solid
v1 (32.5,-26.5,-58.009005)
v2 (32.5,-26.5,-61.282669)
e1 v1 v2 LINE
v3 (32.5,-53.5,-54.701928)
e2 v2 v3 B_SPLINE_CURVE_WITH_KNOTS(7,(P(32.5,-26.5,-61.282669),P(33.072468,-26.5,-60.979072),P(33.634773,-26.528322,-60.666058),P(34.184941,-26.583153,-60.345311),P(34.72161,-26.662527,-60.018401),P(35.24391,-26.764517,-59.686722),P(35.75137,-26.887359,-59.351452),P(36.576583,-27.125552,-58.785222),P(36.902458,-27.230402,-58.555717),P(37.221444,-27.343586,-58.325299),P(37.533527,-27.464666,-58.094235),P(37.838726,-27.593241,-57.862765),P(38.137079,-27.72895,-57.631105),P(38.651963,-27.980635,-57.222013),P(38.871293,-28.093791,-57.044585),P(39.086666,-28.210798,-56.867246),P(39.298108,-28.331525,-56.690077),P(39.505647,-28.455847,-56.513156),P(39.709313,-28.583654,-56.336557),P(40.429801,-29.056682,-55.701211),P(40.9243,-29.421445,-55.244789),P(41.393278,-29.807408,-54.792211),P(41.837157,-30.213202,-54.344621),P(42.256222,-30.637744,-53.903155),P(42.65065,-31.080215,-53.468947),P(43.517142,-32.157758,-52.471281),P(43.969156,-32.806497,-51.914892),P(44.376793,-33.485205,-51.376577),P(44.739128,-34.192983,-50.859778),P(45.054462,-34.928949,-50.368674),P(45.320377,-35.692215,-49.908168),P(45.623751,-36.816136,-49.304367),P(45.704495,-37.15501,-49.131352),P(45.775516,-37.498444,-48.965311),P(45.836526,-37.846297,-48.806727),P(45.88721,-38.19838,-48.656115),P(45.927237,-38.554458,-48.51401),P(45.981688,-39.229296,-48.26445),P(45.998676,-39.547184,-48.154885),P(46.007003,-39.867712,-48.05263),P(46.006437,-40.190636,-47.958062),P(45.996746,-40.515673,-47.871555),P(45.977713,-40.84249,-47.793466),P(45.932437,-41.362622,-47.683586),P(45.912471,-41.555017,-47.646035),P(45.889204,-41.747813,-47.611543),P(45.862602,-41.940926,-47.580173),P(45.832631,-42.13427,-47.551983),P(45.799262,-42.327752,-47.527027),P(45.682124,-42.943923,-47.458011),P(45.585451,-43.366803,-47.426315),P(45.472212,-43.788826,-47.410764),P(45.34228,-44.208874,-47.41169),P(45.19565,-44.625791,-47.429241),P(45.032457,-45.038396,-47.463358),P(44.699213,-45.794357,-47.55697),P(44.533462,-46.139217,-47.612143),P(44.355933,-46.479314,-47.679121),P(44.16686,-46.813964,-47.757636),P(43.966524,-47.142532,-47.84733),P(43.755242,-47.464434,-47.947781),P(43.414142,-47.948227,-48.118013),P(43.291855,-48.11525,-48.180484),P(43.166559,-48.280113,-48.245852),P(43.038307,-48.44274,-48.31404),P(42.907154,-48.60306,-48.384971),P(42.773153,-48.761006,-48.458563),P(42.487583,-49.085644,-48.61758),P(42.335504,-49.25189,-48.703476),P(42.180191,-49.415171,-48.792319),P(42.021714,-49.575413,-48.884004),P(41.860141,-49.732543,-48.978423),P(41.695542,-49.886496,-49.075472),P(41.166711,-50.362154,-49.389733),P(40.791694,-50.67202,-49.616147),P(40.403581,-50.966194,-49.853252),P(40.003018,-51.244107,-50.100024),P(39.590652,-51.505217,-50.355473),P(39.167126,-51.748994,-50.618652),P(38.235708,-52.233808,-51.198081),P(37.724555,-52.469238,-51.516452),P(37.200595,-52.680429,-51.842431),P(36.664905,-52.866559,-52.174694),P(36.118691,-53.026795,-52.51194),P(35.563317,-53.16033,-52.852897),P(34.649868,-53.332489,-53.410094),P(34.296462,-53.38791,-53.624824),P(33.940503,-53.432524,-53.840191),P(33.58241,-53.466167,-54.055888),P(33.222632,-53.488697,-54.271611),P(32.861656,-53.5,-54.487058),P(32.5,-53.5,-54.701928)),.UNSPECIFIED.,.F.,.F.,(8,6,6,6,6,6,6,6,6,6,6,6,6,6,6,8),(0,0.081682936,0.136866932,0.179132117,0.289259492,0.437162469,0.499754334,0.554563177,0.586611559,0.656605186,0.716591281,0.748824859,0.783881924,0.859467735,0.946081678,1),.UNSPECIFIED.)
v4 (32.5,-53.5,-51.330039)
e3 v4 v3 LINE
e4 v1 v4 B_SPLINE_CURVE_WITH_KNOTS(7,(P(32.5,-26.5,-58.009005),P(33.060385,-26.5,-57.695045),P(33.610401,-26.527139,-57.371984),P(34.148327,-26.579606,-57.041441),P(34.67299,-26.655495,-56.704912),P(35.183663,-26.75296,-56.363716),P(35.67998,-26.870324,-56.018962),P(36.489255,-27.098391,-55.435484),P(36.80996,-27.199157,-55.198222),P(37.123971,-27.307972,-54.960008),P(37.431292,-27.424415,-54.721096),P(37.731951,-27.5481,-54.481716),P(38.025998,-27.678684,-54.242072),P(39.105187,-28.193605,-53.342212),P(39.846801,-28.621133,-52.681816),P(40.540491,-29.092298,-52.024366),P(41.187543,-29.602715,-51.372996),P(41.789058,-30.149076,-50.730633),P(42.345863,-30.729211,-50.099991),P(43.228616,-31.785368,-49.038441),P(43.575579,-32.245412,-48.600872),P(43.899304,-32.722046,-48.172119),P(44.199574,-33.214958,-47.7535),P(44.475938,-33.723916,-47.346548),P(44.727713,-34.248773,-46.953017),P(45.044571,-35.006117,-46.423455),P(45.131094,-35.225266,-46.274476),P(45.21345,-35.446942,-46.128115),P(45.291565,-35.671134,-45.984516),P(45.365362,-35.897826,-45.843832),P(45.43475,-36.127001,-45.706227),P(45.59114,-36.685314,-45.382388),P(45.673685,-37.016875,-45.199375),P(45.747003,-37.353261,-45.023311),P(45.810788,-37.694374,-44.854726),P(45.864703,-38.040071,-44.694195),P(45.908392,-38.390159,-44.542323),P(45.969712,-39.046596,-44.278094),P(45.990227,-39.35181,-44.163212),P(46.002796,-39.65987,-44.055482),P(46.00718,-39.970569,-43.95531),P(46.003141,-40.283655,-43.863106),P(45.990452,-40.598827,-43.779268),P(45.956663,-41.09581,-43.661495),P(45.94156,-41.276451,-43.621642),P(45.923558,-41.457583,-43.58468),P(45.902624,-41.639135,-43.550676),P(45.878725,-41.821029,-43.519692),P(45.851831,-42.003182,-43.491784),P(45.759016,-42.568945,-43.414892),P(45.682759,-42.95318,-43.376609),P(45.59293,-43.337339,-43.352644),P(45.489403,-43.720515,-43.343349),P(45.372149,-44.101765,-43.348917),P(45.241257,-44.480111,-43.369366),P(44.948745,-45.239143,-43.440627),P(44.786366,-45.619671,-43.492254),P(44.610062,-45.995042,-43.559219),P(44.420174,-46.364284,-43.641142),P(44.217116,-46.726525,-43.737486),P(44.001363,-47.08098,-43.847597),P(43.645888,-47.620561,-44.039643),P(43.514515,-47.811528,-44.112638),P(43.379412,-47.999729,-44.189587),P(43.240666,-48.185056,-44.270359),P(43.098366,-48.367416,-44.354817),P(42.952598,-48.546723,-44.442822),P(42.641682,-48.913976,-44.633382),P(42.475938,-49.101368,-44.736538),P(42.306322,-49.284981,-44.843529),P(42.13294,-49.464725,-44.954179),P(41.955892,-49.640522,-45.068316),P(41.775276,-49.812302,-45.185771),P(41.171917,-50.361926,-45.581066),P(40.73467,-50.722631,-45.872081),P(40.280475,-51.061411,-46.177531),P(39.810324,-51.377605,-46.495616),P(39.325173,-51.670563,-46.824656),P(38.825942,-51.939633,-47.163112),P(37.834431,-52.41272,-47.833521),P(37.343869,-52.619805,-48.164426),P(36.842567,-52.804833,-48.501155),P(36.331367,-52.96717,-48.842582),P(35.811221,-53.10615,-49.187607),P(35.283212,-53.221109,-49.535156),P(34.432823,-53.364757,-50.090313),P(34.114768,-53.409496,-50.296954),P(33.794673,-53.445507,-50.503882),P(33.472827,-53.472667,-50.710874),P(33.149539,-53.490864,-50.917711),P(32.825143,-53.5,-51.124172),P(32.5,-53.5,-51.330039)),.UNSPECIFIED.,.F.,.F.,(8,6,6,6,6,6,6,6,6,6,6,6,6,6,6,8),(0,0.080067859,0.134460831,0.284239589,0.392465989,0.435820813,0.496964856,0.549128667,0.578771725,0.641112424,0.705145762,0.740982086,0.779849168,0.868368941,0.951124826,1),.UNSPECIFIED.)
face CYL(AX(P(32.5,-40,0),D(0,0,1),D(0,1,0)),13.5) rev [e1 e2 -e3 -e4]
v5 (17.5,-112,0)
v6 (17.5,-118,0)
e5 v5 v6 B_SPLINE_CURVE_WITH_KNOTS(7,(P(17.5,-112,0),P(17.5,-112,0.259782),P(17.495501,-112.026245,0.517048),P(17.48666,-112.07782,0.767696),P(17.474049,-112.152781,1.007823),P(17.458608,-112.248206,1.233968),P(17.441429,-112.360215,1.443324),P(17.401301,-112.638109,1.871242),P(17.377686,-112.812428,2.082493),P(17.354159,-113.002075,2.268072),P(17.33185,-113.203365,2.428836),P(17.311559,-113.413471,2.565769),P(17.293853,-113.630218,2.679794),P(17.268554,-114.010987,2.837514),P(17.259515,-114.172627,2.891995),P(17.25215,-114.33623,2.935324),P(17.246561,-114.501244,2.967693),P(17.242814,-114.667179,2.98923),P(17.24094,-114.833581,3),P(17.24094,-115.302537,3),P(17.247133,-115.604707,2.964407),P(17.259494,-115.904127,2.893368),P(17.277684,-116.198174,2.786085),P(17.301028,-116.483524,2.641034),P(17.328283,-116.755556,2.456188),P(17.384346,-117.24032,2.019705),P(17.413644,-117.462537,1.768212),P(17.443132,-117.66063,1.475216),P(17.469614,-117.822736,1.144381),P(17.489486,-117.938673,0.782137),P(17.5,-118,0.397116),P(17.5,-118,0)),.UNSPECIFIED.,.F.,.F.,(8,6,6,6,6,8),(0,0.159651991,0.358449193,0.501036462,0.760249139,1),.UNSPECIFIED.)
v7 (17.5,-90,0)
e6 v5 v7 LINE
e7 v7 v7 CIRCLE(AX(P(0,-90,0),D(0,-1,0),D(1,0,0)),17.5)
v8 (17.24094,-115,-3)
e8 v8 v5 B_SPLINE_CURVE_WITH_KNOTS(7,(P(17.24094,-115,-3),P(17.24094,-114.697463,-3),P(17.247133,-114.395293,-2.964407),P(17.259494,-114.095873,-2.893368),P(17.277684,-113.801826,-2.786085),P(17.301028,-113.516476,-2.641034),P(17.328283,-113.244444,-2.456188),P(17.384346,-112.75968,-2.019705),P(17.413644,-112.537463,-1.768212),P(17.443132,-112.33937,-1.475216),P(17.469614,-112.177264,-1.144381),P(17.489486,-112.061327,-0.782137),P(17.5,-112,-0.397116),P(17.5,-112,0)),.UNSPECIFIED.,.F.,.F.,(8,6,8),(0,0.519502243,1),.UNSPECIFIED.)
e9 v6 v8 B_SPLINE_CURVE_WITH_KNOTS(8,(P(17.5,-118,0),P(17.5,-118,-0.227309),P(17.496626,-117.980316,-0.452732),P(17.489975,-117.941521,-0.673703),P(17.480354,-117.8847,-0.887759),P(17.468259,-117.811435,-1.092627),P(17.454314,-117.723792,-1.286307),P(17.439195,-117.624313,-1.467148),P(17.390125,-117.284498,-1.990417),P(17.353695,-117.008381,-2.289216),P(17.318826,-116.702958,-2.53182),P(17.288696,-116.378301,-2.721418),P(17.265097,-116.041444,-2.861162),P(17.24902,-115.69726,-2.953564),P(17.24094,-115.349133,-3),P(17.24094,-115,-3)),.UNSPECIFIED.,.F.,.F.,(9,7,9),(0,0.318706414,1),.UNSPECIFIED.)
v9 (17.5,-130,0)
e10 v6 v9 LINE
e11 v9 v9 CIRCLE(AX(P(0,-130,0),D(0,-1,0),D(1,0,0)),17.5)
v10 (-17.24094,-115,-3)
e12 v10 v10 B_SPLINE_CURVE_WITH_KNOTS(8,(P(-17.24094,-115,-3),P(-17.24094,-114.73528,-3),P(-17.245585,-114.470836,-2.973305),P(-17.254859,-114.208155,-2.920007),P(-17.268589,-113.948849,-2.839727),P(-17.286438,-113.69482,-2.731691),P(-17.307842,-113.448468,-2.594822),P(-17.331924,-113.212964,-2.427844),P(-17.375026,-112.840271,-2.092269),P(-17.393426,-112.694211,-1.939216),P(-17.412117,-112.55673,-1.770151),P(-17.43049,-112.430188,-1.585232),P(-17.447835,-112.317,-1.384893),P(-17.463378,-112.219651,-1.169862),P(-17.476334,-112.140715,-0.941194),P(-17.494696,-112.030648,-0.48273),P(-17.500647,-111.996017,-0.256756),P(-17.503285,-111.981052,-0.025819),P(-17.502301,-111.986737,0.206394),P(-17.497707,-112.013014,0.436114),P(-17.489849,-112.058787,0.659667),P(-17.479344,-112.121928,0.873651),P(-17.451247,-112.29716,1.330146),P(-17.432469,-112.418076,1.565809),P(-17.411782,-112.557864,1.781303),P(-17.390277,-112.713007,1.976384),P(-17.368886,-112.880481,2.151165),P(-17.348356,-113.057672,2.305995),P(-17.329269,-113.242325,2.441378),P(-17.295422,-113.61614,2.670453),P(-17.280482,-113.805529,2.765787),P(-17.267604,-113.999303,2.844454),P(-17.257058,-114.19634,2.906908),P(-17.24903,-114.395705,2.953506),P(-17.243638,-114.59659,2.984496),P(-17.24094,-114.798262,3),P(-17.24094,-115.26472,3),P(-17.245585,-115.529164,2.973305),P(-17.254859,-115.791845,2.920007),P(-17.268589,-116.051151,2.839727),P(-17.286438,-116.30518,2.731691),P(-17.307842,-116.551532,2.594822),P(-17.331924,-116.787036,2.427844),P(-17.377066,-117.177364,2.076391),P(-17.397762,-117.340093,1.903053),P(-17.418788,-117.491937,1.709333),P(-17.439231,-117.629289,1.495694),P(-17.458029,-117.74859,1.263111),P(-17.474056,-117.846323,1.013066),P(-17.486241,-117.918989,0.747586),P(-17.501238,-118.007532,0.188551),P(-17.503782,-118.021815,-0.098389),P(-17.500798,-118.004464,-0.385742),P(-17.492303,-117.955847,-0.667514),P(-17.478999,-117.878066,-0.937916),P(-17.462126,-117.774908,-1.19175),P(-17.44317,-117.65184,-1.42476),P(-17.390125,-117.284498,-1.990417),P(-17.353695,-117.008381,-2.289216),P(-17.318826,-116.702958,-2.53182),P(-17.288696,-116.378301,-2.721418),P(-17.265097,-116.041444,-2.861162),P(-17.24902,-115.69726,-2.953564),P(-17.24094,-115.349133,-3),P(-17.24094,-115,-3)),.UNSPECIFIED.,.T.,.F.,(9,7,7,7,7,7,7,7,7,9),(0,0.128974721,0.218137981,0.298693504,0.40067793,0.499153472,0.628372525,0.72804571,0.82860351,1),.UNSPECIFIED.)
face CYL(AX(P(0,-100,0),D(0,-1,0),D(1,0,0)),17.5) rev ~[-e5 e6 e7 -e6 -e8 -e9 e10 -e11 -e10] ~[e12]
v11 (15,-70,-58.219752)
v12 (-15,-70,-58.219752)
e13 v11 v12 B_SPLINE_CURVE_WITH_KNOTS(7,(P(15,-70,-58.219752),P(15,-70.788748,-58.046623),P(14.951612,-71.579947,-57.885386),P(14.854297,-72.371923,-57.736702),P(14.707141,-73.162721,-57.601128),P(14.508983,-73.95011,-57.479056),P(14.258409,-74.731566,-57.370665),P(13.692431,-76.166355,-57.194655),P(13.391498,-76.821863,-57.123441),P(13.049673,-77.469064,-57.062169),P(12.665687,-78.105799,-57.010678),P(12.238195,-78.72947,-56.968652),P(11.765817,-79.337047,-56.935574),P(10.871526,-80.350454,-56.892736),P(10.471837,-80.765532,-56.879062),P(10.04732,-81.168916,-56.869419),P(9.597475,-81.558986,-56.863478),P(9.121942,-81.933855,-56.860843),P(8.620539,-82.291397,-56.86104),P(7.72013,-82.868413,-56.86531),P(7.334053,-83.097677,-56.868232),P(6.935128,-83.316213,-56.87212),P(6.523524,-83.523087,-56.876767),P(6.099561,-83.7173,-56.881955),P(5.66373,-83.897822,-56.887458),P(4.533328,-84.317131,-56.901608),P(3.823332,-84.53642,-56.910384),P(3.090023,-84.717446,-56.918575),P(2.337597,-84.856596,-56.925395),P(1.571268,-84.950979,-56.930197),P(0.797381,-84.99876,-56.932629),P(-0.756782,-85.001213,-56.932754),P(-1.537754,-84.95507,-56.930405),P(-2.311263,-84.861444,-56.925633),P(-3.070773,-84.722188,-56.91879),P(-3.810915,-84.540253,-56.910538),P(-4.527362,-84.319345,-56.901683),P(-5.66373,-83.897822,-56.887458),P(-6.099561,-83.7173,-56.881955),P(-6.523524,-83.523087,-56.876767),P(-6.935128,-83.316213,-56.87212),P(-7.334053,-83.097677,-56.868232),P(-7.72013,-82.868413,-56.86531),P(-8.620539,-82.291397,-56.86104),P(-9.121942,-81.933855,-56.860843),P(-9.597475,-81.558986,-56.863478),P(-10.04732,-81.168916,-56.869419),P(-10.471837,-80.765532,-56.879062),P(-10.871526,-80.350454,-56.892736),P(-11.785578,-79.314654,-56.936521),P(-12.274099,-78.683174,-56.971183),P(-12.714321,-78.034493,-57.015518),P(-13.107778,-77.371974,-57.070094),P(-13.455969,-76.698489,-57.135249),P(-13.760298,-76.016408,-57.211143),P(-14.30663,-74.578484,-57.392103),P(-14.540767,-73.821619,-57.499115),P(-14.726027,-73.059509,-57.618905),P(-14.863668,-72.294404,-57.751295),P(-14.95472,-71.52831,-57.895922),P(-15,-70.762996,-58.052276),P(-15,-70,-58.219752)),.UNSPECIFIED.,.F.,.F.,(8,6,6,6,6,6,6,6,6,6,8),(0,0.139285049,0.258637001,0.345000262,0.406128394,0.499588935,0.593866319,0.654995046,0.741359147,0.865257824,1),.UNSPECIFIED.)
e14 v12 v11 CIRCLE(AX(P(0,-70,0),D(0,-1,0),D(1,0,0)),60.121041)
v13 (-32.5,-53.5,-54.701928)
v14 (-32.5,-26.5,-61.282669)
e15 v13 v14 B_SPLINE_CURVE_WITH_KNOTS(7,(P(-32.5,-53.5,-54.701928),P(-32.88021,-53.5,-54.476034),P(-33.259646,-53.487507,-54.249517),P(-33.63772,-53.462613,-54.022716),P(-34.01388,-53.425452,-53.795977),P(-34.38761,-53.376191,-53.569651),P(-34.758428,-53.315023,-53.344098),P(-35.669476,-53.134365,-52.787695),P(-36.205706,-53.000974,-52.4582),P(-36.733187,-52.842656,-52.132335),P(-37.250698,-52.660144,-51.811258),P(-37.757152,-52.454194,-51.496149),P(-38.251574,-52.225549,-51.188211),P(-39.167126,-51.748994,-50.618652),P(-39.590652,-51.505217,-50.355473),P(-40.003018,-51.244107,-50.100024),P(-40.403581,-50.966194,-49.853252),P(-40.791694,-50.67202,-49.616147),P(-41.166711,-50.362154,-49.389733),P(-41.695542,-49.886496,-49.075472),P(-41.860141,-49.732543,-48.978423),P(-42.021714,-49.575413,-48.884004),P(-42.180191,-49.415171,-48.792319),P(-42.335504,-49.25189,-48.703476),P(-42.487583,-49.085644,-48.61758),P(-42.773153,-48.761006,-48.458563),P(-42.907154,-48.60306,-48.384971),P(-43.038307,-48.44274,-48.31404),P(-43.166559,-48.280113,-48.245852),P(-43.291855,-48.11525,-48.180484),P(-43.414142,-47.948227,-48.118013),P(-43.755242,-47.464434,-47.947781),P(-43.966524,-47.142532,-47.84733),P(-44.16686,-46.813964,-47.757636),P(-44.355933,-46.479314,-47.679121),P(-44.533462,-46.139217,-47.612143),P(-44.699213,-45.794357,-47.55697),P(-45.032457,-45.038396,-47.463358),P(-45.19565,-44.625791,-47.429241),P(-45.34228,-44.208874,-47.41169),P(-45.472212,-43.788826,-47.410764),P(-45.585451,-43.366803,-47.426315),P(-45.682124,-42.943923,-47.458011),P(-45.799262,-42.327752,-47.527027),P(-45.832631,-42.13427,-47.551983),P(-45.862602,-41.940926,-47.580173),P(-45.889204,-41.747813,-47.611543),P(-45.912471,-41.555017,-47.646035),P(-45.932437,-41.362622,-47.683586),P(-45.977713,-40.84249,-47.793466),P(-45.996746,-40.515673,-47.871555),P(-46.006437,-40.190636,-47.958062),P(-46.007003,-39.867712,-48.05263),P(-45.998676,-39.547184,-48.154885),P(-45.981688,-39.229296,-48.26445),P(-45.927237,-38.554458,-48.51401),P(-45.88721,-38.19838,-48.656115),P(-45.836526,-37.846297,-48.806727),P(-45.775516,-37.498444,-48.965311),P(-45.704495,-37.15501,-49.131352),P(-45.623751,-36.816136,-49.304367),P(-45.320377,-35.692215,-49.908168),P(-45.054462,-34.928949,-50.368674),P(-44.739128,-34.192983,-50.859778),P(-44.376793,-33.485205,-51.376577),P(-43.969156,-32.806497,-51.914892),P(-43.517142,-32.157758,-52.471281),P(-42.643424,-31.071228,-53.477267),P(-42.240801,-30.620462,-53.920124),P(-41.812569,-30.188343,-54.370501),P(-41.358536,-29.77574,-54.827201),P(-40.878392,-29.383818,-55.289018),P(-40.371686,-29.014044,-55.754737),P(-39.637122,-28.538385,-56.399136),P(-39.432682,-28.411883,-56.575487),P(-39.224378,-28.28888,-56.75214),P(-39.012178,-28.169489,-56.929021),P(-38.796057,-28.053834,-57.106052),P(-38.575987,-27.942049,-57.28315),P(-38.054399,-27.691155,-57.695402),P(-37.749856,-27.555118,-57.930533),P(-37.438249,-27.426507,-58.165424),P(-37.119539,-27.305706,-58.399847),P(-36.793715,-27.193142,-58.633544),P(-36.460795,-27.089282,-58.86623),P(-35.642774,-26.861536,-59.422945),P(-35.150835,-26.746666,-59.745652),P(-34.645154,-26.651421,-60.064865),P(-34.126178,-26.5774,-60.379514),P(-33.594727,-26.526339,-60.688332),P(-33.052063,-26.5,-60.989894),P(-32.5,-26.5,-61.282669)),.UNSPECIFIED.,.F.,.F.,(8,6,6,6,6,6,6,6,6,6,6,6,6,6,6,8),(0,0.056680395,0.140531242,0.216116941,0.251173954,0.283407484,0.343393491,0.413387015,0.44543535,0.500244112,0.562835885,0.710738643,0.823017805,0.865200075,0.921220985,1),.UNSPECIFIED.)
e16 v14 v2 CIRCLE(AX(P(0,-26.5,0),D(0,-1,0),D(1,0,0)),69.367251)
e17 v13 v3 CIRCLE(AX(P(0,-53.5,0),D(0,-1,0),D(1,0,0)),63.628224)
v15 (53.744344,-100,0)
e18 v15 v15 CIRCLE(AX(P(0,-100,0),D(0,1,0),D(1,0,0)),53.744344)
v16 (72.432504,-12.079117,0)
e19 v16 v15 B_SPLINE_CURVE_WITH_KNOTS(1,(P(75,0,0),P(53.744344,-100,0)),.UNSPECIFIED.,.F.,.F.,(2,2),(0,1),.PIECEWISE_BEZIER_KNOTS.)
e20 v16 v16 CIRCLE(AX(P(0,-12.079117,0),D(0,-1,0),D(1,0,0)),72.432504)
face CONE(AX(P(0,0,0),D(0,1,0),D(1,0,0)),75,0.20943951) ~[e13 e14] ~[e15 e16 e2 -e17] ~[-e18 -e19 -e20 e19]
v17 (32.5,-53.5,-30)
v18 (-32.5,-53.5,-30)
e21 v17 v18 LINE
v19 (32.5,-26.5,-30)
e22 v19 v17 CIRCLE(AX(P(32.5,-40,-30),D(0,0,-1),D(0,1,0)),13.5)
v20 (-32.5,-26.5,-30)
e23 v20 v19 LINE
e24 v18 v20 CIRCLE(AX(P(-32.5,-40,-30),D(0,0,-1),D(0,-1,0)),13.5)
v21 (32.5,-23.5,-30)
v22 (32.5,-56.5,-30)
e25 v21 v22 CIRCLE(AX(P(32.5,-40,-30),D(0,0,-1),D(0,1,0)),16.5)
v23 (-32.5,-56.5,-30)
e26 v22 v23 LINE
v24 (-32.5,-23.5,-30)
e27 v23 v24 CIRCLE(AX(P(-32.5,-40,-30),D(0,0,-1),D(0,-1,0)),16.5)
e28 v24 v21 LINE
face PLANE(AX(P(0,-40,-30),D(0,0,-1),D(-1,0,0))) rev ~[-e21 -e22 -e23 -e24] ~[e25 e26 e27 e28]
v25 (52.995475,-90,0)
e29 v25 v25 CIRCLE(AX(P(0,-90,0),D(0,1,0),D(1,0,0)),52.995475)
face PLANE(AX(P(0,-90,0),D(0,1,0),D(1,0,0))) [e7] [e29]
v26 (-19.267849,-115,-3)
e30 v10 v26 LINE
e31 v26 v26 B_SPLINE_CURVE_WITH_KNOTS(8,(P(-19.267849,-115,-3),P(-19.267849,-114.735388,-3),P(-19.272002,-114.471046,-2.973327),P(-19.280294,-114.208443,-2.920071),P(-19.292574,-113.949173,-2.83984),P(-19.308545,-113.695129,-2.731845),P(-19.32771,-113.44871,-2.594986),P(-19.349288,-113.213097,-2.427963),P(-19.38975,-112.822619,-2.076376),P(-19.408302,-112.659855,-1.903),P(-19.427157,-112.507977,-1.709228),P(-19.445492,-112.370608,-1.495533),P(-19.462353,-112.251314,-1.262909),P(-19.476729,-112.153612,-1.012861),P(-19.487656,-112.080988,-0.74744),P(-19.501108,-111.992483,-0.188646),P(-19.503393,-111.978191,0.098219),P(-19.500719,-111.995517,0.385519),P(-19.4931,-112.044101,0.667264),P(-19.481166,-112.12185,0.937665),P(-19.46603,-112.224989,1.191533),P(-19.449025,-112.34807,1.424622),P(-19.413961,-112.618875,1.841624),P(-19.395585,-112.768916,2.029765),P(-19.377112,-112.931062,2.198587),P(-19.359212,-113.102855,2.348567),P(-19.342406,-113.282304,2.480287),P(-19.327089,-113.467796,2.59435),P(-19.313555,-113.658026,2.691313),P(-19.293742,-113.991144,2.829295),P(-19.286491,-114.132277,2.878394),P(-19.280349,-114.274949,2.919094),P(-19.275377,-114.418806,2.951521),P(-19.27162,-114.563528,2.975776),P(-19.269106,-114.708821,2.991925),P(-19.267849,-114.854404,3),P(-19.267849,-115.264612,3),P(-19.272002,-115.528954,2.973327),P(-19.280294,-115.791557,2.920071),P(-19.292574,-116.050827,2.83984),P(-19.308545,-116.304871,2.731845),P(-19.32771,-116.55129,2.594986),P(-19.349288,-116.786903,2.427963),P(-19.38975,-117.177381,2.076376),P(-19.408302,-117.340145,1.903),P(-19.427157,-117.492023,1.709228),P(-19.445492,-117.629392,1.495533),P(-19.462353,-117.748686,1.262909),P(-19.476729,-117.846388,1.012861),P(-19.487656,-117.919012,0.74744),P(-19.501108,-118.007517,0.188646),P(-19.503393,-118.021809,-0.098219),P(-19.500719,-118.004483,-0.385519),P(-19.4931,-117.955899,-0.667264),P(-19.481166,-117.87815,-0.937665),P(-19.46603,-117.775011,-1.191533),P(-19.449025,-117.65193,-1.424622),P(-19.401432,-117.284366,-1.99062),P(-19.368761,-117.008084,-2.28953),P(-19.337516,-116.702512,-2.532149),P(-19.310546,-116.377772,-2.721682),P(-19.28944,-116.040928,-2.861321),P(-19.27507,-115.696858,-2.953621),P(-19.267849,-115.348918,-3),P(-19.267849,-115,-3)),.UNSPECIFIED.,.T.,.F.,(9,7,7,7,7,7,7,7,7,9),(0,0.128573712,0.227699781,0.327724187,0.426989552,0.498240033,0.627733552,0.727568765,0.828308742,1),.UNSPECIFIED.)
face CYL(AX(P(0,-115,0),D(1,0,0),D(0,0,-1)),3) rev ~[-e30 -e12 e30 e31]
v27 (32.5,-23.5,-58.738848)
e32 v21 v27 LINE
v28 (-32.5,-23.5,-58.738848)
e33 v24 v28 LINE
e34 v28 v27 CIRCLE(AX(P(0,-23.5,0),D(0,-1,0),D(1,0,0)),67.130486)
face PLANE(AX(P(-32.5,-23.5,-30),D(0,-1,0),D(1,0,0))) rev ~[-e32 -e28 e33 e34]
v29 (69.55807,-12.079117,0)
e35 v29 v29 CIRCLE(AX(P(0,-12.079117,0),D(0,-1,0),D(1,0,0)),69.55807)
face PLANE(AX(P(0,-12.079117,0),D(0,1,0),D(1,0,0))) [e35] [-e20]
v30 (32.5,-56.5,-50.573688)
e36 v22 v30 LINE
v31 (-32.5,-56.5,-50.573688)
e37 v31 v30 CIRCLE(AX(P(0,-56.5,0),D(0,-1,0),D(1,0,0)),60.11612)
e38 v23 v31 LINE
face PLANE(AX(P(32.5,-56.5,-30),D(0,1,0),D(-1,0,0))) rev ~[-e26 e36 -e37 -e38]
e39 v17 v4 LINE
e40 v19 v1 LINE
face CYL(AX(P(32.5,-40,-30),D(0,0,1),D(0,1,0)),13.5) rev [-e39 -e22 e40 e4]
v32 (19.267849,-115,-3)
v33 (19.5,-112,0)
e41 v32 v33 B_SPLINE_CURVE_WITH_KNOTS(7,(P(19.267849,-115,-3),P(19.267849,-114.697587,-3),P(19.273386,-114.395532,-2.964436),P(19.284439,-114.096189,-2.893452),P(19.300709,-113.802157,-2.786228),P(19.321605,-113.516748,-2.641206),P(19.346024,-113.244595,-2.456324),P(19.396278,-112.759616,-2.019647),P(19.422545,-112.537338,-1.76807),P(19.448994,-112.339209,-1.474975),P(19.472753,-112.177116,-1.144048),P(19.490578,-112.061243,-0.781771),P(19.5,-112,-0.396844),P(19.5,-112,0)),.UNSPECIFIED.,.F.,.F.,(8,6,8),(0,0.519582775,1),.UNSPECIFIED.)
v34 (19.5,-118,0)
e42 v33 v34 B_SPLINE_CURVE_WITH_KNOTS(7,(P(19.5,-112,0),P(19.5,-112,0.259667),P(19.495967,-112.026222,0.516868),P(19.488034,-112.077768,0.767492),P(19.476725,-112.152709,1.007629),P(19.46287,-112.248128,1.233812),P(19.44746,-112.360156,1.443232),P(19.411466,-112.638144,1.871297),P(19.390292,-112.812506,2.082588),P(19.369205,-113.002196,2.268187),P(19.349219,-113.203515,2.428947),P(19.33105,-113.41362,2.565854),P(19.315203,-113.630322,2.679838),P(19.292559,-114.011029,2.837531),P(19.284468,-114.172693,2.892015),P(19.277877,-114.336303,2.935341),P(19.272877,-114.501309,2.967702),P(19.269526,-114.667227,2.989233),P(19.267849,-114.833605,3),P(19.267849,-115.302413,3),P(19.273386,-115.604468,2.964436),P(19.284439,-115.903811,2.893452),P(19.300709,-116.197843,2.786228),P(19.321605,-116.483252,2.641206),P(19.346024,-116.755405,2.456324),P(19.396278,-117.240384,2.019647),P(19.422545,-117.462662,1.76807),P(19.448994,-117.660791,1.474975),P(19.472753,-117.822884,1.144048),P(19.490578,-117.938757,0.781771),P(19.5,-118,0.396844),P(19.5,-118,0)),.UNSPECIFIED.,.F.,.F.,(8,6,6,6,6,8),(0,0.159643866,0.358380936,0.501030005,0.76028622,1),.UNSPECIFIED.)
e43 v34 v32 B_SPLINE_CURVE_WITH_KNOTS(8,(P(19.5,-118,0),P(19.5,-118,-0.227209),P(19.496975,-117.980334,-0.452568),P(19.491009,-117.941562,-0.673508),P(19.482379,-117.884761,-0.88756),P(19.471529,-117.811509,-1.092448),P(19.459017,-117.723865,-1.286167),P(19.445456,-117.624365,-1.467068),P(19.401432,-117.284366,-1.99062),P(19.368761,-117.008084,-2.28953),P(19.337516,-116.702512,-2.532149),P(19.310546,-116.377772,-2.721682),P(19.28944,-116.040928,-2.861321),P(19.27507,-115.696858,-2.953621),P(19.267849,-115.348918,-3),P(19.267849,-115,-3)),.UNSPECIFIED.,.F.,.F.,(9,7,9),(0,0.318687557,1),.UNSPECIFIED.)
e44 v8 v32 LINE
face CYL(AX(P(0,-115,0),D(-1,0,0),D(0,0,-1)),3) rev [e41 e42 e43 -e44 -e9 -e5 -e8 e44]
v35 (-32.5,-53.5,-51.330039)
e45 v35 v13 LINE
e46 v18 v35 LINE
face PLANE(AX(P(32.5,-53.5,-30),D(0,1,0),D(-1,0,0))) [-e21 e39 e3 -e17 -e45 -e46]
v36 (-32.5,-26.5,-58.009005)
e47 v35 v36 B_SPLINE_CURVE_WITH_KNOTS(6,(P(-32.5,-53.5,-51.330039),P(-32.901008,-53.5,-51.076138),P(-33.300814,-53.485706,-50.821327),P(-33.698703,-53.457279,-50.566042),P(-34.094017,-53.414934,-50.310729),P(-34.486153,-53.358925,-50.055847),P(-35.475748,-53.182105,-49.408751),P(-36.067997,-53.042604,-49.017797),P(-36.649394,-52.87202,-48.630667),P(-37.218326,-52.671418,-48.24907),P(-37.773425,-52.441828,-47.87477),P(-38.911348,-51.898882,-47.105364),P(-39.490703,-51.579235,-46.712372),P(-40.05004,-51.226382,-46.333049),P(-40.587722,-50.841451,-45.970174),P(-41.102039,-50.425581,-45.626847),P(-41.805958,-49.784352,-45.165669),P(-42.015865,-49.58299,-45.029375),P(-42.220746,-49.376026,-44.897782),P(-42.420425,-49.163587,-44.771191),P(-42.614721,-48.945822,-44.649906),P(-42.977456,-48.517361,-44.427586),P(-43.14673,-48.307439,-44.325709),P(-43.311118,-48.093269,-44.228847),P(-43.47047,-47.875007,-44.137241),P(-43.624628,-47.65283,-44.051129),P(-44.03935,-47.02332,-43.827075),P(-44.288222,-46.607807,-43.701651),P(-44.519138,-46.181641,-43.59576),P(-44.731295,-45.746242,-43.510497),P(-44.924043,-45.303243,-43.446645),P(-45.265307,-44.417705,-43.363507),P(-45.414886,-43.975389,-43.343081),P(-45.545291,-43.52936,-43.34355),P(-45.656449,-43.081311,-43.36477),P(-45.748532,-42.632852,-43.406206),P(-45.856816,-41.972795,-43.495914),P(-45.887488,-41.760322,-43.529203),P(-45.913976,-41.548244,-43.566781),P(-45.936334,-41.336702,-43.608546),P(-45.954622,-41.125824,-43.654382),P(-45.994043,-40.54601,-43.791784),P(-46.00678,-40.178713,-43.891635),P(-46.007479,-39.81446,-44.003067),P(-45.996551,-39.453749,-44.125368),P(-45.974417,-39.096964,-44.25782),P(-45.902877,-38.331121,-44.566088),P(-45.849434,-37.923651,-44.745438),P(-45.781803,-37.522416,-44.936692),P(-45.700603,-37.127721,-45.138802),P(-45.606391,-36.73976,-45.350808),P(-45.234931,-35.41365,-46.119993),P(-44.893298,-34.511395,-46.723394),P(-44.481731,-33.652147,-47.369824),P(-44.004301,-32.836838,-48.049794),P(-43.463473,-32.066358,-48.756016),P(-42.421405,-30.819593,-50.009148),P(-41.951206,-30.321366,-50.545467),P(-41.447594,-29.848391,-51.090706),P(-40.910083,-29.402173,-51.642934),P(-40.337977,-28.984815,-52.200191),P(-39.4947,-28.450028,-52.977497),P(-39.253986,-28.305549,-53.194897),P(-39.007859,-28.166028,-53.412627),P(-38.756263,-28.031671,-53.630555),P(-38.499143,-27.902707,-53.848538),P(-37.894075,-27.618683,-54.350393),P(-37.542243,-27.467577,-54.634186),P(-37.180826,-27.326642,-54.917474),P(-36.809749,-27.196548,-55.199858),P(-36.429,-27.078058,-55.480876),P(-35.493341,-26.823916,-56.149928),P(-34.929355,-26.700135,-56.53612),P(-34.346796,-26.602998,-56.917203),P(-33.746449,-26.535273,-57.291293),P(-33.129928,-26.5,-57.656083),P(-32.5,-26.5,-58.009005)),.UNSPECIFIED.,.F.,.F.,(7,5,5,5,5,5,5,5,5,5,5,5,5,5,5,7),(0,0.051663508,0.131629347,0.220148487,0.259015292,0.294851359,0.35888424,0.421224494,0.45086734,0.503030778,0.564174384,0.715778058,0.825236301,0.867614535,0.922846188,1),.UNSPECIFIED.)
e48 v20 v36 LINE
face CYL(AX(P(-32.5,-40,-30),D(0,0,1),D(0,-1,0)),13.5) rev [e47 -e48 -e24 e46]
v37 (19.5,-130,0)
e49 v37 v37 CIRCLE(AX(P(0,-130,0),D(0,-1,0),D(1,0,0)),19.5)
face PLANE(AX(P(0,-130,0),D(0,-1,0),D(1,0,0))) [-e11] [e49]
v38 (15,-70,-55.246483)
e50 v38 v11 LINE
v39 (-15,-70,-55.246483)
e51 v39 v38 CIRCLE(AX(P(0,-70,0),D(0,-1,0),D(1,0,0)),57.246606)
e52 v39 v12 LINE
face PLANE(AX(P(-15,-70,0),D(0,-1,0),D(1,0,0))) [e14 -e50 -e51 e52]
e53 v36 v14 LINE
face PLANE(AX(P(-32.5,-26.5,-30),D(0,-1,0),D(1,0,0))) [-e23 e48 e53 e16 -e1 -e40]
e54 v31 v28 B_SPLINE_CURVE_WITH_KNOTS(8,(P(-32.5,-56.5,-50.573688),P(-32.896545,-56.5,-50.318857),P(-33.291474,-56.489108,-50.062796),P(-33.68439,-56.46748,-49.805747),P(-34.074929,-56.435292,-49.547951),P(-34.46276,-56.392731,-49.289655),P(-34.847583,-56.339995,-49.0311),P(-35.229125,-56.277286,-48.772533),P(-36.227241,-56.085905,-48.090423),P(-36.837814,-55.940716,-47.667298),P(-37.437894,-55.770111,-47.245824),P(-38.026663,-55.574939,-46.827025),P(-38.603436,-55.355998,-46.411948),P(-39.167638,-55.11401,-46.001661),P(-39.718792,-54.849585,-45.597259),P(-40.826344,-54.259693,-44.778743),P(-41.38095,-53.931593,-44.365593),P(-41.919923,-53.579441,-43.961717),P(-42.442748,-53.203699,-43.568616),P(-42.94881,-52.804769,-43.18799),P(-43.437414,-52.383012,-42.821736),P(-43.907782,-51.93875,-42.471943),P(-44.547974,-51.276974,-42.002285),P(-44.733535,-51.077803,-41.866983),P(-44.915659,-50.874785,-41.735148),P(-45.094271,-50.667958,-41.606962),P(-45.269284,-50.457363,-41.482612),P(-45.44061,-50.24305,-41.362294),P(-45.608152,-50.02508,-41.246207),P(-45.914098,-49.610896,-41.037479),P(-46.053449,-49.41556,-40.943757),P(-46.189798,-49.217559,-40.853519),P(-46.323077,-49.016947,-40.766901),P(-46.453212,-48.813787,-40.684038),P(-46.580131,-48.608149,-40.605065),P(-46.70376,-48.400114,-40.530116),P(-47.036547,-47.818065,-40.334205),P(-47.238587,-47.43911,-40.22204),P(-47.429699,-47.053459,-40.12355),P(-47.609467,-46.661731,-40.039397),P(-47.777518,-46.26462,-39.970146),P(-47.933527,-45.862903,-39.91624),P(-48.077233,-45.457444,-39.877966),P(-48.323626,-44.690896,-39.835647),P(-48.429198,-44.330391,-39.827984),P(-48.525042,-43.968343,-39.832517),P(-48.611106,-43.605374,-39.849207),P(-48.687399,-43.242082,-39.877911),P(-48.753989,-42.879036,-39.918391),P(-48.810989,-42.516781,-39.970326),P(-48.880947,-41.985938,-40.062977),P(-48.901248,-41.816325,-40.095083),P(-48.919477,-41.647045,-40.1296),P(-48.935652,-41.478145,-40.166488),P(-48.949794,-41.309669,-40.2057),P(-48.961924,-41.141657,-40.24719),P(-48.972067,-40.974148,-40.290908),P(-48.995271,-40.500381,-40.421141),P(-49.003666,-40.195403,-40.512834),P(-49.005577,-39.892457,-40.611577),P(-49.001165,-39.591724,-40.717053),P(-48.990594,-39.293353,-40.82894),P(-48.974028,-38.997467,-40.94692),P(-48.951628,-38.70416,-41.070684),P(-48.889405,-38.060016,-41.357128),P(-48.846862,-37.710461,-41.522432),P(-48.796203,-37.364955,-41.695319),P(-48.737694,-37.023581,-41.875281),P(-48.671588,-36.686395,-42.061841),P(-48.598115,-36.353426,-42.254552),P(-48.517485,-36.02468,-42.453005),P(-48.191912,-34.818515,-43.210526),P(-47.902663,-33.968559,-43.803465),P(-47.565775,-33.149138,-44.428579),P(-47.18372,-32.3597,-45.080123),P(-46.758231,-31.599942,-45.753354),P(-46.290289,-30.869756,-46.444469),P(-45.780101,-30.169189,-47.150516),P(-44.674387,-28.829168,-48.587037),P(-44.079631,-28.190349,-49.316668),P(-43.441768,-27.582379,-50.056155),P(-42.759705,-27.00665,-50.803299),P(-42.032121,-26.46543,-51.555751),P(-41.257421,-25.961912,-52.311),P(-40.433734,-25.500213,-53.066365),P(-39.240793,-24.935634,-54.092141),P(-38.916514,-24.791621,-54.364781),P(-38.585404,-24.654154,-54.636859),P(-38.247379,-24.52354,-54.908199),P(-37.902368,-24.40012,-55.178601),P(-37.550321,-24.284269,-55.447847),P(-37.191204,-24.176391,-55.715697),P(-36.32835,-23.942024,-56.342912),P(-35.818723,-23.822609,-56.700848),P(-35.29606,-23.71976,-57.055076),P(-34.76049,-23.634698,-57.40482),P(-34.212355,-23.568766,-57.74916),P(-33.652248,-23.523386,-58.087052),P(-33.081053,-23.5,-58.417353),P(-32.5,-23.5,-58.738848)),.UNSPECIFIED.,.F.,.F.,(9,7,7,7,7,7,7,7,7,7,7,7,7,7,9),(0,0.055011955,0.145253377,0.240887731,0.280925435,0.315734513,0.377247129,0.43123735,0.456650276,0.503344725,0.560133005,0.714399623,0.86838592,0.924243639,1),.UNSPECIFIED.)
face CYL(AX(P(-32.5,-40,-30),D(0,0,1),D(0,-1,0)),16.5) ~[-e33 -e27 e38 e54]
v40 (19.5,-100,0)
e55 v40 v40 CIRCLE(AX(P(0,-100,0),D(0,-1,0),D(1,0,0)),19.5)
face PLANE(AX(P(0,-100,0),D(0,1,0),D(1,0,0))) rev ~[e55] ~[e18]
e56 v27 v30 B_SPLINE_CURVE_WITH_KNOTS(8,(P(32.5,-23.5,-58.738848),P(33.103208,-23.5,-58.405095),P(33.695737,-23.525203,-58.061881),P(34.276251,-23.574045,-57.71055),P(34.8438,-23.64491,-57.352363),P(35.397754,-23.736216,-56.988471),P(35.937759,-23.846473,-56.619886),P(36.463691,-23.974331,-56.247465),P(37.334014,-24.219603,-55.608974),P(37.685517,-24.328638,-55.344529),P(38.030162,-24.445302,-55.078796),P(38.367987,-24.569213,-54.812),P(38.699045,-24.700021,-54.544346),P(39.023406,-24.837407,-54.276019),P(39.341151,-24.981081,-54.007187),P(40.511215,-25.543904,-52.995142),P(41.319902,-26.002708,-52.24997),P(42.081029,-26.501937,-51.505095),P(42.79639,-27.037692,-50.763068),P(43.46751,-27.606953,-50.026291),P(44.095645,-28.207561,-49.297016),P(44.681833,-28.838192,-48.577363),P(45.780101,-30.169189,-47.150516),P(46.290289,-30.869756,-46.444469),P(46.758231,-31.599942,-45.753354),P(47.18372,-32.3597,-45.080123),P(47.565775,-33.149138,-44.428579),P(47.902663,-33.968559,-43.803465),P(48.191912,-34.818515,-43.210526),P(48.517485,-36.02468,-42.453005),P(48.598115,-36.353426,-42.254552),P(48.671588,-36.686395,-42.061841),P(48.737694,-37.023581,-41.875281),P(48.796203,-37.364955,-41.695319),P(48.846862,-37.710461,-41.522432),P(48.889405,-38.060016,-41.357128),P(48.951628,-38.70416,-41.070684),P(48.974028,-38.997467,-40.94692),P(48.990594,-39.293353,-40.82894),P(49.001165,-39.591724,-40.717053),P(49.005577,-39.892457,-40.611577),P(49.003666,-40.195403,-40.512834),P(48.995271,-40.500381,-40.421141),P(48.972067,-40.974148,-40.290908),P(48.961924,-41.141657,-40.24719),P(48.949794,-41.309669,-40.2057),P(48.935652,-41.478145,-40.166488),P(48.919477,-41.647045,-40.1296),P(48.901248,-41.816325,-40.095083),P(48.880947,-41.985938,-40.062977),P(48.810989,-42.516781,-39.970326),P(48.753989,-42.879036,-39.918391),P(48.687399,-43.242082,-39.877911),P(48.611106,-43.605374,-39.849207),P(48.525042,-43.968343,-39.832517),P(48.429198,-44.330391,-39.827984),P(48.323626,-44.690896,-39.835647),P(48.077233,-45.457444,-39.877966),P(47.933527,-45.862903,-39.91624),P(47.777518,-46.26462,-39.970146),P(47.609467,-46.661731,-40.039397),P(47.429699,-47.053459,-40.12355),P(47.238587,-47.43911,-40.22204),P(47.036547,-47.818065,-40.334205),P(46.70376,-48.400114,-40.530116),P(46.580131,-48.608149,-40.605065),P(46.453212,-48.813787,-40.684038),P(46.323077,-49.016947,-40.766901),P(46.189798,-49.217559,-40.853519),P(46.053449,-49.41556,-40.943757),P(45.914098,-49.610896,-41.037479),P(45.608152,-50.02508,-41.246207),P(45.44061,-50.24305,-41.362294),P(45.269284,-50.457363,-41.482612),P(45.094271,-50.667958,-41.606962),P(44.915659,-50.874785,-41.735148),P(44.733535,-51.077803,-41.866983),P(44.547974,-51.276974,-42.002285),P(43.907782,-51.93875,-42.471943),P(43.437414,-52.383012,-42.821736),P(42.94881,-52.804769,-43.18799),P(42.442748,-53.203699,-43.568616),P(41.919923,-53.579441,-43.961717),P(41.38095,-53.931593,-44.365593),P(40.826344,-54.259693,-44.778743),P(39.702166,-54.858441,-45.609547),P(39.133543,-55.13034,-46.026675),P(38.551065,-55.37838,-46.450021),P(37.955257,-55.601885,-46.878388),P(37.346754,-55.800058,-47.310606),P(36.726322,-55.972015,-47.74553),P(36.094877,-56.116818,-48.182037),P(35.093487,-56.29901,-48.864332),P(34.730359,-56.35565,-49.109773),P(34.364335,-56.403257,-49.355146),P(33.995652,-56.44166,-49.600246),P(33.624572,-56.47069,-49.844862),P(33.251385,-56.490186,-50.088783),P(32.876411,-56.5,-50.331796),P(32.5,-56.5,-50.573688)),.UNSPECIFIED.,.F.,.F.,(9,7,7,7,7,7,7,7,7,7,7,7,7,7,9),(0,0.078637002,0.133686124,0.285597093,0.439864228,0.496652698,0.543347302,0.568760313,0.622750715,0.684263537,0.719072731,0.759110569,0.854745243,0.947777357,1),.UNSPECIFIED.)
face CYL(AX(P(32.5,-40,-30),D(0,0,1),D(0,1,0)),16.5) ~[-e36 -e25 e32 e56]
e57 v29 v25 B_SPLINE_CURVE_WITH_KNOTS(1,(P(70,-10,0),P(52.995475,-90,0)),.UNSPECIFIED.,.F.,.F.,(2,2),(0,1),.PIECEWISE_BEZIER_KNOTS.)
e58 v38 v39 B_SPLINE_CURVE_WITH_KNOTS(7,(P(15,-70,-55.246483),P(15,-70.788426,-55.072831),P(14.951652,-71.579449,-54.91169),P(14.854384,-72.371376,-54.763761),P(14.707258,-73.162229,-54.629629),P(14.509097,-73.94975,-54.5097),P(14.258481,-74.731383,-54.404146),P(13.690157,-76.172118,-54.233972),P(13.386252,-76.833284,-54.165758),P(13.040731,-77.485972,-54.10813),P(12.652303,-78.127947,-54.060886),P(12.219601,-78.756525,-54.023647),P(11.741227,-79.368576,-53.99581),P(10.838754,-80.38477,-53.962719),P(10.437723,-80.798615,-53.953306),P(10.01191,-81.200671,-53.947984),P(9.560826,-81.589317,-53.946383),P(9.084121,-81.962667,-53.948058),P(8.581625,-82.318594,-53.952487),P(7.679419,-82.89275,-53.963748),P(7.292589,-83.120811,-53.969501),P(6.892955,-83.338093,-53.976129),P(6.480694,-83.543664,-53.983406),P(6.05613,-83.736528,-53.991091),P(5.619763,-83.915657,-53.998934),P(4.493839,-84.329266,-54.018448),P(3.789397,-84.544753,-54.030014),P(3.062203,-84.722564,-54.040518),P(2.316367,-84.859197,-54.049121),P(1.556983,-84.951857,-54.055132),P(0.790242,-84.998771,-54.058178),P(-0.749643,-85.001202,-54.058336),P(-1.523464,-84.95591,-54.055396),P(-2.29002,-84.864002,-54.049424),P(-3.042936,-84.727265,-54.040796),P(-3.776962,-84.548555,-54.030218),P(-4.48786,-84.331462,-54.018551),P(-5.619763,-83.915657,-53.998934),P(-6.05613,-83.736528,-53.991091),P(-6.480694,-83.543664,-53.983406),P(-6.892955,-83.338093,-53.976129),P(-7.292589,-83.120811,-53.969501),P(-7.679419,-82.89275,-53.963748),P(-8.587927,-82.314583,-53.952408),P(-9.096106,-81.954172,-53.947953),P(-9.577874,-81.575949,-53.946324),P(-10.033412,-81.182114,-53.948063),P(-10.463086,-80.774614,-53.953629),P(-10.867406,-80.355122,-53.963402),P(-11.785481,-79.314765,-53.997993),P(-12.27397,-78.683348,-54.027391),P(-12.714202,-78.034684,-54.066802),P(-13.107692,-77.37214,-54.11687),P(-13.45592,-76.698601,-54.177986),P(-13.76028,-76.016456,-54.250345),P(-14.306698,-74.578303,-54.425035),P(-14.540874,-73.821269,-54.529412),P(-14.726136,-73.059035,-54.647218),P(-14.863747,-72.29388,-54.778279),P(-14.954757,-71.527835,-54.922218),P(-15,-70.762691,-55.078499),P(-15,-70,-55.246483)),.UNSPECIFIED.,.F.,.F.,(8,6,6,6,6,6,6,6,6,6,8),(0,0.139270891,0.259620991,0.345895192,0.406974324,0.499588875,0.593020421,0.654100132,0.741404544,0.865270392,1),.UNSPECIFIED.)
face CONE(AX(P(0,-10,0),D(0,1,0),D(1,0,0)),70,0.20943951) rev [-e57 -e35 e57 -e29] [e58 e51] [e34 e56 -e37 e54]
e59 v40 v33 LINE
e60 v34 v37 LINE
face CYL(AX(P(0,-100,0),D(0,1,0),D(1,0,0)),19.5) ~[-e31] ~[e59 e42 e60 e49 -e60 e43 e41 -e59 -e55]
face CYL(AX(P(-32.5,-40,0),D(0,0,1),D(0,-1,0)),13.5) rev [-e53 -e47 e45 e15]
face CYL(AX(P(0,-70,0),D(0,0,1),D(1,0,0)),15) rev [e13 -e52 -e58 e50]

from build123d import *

# Parameters (mm, degrees)
SKETCH1_R               = 75
BOSS_EXTRUDE1_DEPTH     = 100
BOSS_EXTRUDE1_TAPER     = 12
SKETCH3_R               = 70
CUT_EXTRUDE1_DEPTH      = 80
CUT_EXTRUDE1_TAPER      = 12
FILLET1_R               = 10
CUT_EXTRUDE2_DEPTH      = 90
SKETCH5_R               = 19.5
SKETCH5_R_2             = 17.5
BOSS_EXTRUDE2_DEPTH     = 30
SKETCH6_R               = 17.5
CUT_EXTRUDE3_DEPTH      = 30
BOSS_EXTRUDE7_REACH     = 44.651
SKETCH17_R              = 73.5
CUT_EXTRUDE4_DEPTH      = 25
SKETCH18_R              = 3
CUT_EXTRUDE5_DEPTH      = 73.432504542
CUT_EXTRUDE5_DEPTH_BACK = 73.432504542


with BuildPart() as part:
    # Sketch1 → Boss-Extrude1 (new body)
    with BuildSketch(Plane(origin=(0, 0, 0), x_dir=(1, 0, 0), z_dir=(0, 1, 0))):
        Circle(SKETCH1_R)
    extrude(amount=-BOSS_EXTRUDE1_DEPTH, taper=BOSS_EXTRUDE1_TAPER)

    # Sketch3 → Cut-Extrude1 (cut)
    with BuildSketch(Plane(origin=(0, -10, 0), x_dir=(1, 0, 0), z_dir=(0, 1, 0))):
        Circle(SKETCH3_R)
    extrude(amount=-CUT_EXTRUDE1_DEPTH, taper=CUT_EXTRUDE1_TAPER, mode=Mode.SUBTRACT)

    # Fillet1
    fillet1_edges = [part.edges().sort_by_distance(p)[0] for p in [
        (-75, 0, 0),
    ]]
    fillet(fillet1_edges, radius=FILLET1_R)

    # Sketch4 → Cut-Extrude2 (cut)
    with BuildSketch(Plane.XY):
        with BuildLine():
            Line((-15, -70), (15, -70))
            ThreePointArc((15, -70), (0, -85), (-15, -70))
        make_face()
        with BuildLine():
            Line((-32.5, -26.5), (32.5, -26.5))
            ThreePointArc((32.5, -26.5), (46, -40), (32.5, -53.5))
            Line((32.5, -53.5), (-32.5, -53.5))
            ThreePointArc((-32.5, -53.5), (-46, -40), (-32.5, -26.5))
        make_face()
    extrude(amount=-CUT_EXTRUDE2_DEPTH, mode=Mode.SUBTRACT)

    # Sketch5 → Boss-Extrude2 (add)
    with BuildSketch(Plane.XZ.offset(100)):
        Circle(SKETCH5_R)
        Circle(SKETCH5_R_2, mode=Mode.SUBTRACT)
    extrude(amount=BOSS_EXTRUDE2_DEPTH)

    # Sketch6 → Cut-Extrude3 (cut)
    with BuildSketch(Plane.XZ.offset(100)):
        Circle(SKETCH6_R)
    extrude(amount=-CUT_EXTRUDE3_DEPTH, mode=Mode.SUBTRACT)

    # Sketch16 → Boss-Extrude7 (add, up to next)
    with BuildSketch(Plane.XY.offset(-30), mode=Mode.PRIVATE) as boss_extrude7_sk1:
        with BuildLine():
            Line((32.5, -56.5), (-32.5, -56.5))
            ThreePointArc((-32.5, -56.5), (-49, -40), (-32.5, -23.5))
            Line((-32.5, -23.5), (32.5, -23.5))
            ThreePointArc((32.5, -23.5), (49, -40), (32.5, -56.5))
        make_face()
        with BuildLine():
            Line((32.5, -53.5), (-32.5, -53.5))
            ThreePointArc((-32.5, -53.5), (-46, -40), (-32.5, -26.5))
            Line((-32.5, -26.5), (32.5, -26.5))
            ThreePointArc((32.5, -26.5), (46, -40), (32.5, -53.5))
        make_face(mode=Mode.SUBTRACT)
    boss_extrude7_tool1 = extrude(boss_extrude7_sk1.sketch, amount=-BOSS_EXTRUDE7_REACH, mode=Mode.PRIVATE) - part.part
    add(boss_extrude7_tool1.solids().sort_by_distance((0, -55.46593, -30))[0])

    # Sketch17 → Cut-Extrude4 (cut)
    with BuildSketch(Plane(origin=(0, -12.079116908, 0), x_dir=(1, 0, 0), z_dir=(0, 1, 0))):
        Circle(SKETCH17_R)
    extrude(amount=CUT_EXTRUDE4_DEPTH, mode=Mode.SUBTRACT)

    # Sketch18 → Cut-Extrude5 (cut, two sides)
    with BuildSketch(Plane(origin=(0, 0, 0), x_dir=(0, 0, -1), z_dir=(1, 0, 0))) as cut_extrude5_sk:
        with Locations((0, -115)):
            Circle(SKETCH18_R)
    extrude(amount=CUT_EXTRUDE5_DEPTH, mode=Mode.SUBTRACT)
    extrude(cut_extrude5_sk.sketch, amount=-CUT_EXTRUDE5_DEPTH_BACK, mode=Mode.SUBTRACT)


solid = part.part
